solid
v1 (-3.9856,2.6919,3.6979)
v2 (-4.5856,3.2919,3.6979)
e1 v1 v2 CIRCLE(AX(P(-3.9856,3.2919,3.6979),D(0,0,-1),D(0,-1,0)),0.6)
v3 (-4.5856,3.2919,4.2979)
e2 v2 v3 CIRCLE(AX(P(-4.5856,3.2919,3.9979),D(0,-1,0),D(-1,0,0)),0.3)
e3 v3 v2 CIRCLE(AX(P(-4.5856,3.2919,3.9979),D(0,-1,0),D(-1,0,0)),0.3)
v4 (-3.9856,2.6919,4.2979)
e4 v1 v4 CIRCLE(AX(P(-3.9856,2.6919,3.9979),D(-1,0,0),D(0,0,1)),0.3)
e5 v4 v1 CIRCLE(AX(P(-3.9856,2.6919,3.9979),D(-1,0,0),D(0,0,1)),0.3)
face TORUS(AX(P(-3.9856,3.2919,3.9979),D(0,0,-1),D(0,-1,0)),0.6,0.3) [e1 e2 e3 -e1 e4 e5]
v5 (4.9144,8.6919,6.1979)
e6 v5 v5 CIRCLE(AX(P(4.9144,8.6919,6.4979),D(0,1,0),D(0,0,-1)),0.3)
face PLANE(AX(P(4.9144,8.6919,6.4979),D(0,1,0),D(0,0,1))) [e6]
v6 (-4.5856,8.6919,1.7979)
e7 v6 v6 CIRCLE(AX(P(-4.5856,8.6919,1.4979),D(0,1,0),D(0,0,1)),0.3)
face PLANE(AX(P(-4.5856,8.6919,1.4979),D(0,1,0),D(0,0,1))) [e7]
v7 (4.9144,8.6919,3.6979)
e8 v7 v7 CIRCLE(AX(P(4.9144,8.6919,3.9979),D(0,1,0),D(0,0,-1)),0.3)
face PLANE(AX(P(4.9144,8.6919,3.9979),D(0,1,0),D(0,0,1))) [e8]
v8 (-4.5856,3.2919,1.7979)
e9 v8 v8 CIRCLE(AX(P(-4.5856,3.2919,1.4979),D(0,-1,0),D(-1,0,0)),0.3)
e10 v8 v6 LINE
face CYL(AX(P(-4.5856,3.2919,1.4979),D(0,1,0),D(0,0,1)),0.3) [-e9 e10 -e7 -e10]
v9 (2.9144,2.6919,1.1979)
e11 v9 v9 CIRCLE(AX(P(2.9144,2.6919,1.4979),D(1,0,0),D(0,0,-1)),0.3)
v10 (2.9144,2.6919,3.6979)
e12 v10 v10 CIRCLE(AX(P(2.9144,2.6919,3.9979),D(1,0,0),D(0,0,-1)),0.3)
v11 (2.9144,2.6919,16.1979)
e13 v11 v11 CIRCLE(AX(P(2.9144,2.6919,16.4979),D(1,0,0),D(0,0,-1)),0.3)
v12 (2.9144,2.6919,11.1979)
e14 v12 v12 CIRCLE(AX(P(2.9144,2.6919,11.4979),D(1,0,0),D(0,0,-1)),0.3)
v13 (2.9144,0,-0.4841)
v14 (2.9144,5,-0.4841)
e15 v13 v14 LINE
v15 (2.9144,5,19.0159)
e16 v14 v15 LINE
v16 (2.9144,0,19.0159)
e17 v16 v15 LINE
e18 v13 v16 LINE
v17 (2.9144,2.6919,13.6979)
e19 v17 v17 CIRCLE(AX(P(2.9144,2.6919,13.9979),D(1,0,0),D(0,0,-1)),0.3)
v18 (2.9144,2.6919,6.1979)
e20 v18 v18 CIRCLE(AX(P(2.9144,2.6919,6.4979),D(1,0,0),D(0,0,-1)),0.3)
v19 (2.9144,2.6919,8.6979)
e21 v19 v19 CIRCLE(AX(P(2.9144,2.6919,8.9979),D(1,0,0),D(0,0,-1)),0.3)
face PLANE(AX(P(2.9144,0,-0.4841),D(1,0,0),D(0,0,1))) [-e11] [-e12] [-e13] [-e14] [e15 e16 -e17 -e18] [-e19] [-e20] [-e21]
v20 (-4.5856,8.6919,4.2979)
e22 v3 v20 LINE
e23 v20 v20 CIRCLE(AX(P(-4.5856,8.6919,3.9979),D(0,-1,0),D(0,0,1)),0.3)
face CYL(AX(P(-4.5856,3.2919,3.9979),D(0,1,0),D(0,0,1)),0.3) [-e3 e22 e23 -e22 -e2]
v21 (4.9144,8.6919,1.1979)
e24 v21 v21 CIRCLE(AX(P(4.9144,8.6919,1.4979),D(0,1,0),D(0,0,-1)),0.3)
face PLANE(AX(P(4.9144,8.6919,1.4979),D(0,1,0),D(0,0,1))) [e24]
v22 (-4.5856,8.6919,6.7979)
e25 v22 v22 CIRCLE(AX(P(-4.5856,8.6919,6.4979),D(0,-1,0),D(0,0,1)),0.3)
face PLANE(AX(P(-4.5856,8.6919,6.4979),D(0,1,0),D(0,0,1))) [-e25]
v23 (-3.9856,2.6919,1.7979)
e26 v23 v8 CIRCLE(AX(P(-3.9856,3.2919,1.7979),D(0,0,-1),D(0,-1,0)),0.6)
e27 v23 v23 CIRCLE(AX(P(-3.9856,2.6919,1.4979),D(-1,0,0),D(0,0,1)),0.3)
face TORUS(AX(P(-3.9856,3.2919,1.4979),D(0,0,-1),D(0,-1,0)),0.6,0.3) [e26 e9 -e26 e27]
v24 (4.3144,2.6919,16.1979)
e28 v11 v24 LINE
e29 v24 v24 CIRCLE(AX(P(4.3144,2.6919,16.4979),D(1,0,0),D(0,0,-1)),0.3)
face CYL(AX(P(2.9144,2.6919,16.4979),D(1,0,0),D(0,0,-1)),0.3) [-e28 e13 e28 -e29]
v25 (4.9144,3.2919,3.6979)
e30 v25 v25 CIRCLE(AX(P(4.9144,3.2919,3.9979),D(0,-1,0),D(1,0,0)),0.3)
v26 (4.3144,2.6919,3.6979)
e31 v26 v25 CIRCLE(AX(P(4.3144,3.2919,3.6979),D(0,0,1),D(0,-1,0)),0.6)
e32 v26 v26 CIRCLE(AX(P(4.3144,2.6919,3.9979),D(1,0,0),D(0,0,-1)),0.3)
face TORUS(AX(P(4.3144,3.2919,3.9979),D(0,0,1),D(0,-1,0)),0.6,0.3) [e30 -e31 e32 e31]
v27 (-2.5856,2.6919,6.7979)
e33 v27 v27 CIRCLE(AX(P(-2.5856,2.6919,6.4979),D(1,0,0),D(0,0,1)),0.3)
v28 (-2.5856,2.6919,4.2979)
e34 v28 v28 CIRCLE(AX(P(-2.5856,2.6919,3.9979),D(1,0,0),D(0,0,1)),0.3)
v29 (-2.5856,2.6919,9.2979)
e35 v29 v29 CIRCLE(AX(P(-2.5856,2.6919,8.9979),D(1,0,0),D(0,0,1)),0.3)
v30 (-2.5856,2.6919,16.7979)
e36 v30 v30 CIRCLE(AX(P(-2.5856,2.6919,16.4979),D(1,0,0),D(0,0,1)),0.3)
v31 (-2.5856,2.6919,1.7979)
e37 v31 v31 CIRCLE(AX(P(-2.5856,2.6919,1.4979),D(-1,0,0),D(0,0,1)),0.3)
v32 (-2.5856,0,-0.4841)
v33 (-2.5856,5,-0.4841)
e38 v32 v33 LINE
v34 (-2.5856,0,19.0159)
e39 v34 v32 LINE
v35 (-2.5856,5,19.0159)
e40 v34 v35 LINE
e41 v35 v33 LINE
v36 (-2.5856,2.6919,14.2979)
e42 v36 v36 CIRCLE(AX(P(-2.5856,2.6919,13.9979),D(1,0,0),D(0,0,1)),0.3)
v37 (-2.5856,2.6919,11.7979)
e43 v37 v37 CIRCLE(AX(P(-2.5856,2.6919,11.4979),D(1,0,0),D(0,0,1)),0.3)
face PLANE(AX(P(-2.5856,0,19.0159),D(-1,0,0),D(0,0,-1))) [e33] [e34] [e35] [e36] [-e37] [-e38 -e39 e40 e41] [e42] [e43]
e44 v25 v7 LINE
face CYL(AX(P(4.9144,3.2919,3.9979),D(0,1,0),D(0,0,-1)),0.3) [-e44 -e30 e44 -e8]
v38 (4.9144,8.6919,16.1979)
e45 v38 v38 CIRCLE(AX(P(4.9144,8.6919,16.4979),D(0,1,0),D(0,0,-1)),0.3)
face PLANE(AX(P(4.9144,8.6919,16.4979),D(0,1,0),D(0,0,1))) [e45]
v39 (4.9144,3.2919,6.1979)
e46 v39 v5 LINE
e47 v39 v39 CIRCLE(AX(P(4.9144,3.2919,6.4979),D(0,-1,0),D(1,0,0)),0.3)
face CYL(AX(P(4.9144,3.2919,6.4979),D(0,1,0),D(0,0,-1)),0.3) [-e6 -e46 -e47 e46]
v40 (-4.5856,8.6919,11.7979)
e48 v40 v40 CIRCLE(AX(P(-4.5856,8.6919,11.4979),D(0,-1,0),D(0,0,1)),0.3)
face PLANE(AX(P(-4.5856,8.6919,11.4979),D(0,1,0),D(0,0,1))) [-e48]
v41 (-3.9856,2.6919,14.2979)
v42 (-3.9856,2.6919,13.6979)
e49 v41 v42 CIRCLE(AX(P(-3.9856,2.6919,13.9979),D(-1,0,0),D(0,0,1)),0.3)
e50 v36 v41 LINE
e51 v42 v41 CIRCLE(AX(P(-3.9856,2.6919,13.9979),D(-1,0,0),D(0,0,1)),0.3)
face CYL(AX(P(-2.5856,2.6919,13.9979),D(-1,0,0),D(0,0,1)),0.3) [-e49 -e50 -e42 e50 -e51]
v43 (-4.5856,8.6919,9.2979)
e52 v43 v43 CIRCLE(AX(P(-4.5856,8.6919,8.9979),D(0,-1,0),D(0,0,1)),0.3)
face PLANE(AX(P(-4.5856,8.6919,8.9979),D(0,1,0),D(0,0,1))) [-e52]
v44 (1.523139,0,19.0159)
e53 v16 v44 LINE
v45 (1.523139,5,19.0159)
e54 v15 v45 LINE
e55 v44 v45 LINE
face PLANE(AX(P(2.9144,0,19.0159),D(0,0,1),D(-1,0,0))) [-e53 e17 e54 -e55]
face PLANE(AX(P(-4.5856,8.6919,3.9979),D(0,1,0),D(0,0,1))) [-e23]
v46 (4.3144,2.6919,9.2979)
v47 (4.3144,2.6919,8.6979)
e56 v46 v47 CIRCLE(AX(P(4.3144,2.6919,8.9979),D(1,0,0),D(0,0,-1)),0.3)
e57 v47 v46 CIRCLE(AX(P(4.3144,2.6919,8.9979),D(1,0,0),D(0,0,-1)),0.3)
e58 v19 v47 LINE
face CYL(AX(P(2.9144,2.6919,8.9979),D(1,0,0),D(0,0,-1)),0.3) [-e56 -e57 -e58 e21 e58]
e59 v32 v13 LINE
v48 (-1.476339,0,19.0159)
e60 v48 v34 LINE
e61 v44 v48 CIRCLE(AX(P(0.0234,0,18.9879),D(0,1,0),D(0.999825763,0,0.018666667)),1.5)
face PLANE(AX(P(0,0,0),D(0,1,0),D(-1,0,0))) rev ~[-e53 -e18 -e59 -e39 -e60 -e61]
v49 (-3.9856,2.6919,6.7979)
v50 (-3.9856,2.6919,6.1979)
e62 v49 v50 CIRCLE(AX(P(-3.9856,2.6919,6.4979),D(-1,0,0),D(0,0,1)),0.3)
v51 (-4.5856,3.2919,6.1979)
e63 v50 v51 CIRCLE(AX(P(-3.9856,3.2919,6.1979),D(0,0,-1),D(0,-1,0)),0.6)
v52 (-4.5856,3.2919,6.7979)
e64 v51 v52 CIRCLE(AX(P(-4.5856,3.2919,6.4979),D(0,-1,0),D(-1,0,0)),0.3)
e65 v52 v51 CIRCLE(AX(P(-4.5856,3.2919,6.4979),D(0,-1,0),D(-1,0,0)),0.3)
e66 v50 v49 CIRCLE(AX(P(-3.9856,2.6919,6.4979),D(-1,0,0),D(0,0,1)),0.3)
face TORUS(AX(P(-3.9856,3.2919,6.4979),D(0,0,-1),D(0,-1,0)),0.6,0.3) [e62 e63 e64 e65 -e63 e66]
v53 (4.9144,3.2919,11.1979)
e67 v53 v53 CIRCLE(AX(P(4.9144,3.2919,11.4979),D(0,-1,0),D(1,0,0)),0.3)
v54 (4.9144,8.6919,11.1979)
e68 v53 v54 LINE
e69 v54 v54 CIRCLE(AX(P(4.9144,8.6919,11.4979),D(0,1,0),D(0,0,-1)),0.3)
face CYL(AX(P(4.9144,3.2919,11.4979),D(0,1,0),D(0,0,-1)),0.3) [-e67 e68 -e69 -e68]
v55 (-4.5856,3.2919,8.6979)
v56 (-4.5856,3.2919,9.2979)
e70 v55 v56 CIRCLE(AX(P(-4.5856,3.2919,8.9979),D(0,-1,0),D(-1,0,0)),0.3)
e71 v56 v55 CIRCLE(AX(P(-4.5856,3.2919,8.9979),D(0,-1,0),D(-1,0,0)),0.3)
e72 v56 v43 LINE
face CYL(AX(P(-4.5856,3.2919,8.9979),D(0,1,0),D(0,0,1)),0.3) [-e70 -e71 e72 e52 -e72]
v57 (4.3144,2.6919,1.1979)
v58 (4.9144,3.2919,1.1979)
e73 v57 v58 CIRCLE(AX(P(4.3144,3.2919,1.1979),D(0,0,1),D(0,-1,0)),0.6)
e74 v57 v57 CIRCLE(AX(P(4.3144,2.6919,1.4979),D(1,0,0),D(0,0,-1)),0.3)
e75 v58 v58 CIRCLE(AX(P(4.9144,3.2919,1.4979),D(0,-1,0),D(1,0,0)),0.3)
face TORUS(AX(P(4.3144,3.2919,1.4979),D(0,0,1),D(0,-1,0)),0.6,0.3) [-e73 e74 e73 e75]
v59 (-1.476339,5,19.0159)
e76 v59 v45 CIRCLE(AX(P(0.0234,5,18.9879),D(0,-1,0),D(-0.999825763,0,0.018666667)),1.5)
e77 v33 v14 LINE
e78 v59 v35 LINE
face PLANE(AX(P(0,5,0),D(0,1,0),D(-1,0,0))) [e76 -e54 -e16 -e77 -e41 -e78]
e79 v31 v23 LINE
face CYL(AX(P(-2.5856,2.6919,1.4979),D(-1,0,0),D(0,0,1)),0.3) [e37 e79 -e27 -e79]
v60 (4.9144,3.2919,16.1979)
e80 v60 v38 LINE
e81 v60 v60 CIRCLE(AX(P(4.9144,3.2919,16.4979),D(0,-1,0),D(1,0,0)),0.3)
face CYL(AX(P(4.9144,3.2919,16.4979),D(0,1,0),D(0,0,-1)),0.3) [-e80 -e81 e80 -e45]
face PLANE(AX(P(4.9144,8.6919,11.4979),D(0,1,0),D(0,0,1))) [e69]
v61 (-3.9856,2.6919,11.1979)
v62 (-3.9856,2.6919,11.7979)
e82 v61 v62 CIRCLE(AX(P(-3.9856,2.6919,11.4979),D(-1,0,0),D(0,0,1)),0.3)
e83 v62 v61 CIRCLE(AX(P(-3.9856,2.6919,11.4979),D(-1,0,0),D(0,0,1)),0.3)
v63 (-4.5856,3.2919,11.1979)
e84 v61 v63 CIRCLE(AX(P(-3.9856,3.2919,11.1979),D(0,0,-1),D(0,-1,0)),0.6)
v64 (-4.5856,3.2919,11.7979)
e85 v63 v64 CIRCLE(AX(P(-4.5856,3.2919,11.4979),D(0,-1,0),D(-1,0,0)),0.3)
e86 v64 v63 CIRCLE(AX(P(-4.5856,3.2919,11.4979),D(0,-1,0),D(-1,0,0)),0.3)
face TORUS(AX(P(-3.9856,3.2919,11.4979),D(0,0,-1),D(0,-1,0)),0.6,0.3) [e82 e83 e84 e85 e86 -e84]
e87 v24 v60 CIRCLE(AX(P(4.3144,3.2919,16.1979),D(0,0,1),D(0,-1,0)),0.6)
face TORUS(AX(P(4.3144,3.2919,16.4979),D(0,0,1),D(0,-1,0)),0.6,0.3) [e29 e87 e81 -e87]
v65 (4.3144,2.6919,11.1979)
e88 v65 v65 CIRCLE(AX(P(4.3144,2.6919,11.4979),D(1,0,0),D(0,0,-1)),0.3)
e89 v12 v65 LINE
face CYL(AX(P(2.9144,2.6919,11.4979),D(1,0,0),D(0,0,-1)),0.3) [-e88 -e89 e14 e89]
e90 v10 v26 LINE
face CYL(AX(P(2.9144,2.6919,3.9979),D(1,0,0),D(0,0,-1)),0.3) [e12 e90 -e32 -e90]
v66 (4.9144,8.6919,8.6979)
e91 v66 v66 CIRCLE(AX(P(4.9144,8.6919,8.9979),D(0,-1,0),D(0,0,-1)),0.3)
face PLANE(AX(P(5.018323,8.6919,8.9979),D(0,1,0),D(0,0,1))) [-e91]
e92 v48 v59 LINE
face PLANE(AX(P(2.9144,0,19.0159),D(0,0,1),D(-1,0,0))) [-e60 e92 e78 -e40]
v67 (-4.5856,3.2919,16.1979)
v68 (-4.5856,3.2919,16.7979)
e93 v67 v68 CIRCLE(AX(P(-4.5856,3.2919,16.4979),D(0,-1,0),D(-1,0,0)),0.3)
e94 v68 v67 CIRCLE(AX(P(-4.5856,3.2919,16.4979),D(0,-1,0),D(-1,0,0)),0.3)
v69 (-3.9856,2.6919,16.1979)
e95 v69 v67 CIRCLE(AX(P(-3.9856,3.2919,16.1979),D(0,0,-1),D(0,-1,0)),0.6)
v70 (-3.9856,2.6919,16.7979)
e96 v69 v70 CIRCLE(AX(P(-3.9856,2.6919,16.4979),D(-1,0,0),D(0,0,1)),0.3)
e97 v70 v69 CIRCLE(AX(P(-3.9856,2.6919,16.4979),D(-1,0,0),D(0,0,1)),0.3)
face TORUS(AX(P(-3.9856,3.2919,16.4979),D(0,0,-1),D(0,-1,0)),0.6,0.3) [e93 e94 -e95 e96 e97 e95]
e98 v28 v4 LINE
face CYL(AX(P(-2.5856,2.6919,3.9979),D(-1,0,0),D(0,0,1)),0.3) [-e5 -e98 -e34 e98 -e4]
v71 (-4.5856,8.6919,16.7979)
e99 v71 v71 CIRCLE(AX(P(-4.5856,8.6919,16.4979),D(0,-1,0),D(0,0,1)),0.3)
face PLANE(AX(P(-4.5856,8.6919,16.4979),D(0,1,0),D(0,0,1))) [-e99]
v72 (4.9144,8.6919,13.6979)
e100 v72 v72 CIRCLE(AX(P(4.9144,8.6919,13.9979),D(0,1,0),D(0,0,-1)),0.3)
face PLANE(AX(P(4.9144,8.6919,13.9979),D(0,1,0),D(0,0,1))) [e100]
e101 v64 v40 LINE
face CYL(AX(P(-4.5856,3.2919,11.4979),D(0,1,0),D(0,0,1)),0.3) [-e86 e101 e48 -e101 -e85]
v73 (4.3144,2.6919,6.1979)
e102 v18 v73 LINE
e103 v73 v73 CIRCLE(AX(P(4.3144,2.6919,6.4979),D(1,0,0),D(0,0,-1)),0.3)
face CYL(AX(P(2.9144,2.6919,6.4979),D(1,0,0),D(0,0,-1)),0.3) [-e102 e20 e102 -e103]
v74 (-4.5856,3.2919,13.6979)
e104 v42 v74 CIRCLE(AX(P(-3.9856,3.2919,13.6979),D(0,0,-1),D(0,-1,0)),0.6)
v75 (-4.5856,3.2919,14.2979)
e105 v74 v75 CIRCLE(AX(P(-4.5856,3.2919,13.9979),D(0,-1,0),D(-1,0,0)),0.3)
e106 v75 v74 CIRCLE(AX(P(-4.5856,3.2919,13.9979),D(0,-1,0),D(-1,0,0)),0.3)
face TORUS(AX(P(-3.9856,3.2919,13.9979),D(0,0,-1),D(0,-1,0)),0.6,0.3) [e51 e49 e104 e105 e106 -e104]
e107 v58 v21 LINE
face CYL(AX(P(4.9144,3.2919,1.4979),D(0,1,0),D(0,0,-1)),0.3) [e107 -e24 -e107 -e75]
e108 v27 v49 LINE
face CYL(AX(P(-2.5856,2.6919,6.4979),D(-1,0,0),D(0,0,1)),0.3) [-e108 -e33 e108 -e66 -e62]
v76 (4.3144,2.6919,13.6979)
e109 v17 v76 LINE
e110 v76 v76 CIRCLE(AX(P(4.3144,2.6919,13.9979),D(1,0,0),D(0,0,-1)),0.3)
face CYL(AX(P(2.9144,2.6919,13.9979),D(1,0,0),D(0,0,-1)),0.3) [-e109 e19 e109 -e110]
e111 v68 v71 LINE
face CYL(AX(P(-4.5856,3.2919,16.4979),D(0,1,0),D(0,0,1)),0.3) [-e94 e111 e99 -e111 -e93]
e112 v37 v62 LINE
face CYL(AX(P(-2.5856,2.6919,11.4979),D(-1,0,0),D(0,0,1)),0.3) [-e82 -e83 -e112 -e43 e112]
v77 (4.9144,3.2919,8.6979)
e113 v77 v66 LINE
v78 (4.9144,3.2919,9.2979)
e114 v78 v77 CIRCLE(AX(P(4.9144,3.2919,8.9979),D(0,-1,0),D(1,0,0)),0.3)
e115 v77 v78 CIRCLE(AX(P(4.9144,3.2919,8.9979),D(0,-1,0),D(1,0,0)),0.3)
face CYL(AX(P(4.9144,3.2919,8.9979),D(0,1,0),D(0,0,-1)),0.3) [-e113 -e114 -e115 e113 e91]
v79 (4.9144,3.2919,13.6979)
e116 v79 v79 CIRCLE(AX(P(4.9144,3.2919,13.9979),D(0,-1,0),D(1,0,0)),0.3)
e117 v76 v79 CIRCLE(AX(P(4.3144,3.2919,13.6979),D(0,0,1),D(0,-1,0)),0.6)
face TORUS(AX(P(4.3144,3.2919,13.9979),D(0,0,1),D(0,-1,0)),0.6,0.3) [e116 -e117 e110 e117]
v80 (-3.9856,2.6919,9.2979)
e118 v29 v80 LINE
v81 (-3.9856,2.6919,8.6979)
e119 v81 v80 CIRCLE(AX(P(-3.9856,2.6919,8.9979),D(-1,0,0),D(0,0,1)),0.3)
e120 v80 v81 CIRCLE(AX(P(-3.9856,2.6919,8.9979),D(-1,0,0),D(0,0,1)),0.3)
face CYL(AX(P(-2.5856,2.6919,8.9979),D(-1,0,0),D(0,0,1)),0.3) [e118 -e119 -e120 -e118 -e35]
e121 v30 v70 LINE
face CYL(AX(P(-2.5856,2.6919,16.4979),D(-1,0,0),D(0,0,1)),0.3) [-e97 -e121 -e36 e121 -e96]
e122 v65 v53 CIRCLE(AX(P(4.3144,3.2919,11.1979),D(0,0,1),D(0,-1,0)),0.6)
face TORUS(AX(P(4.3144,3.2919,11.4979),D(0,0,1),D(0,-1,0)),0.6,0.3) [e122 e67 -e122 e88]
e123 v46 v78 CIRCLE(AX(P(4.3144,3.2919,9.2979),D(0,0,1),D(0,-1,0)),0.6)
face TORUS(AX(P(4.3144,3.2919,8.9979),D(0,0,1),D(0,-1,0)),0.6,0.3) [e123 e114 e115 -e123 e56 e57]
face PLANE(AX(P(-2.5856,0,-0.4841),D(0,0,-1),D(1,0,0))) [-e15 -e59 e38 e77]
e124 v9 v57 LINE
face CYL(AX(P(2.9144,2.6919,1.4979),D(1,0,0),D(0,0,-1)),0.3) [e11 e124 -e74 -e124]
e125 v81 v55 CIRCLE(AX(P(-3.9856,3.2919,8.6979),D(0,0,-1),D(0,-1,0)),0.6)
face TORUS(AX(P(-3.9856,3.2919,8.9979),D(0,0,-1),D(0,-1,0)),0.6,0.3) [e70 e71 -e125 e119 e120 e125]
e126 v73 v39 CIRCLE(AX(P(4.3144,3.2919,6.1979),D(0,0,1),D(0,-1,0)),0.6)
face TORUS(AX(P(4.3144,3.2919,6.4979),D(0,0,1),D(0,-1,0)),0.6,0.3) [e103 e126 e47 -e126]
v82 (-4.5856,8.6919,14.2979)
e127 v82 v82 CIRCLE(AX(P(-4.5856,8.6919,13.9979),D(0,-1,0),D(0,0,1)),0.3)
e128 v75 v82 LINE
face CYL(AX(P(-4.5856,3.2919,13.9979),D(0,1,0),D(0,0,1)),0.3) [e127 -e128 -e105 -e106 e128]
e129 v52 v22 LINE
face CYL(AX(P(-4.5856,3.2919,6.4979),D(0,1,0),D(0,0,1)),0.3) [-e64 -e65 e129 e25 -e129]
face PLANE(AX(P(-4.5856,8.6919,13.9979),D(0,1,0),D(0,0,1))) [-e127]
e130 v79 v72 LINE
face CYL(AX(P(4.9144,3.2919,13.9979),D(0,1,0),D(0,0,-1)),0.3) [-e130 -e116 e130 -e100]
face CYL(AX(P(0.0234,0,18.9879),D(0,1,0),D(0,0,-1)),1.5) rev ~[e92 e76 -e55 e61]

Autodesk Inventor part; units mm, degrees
ref_plane "YZ Plane" through (0, 0, 0) normal (1, 0, 0) x (0, 1, 0)
ref_plane "XZ Plane" through (0, 0, 0) normal (0, 1, 0) x (-1, 0, 0)
ref_plane "XY Plane" through (0, 0, 0) normal (0, 0, 1) x (1, 0, 0)
sketch "Sketch1" plane through (0, 0, 0) normal (0, 1, 0) x (-1, 0, 0)
  line L0 (2.5856, 19.0159) -> (2.5856, -0.4841)
  line L1 (2.5856, -0.4841) -> (-2.9144, -0.4841)
  line L2 (-2.9144, -0.4841) -> (-2.9144, 19.0159)
  line L3 (-2.9144, 19.0159) -> (2.5856, 19.0159)
  point P0 (0, 0)
  dimension "d0" = 19.5
  dimension "d1" = 5.5
  dimension "d2" = 19.5
extrude "Extrusion1" add sketch "Sketch1" along normal blind 5
sketch "Sketch2" plane through (2.9144, 0, 19.0159) normal (1, 0, 0) x (0, 0, -1)
  circle A0 centre (17.518, 2.6919) radius 0.3
  point P0 (19.0159, 0)
  dimension "d9" = 0.6
sketch3d "3D Sketch2"
  line L0 (2.9144, 2.6919, 1.4979) -> (4.3144, 2.6919, 1.4979)
  arc A0 (4.3144, 2.6919, 1.4979) -> (4.9144, 3.2919, 1.4979) centre (4.3144, 3.2919, 1.4979) ccw
  line L1 (4.9144, 3.2919, 1.4979) -> (4.9144, 8.6919, 1.4979)
  dimension "d10" = 2
  dimension "d11" = 6
  dimension "d12" = 0.6
sweep "Sweep1" add profiles "Sketch2" path "3D Sketch2"
sketch "Sketch4" plane through (2.9144, 0, 19.0159) normal (1, 0, 0) x (0, 0, -1)
  circle A0 centre (17.518, 2.6919) radius 0.3 projected
  line L0 (17.518, 2.6919) -> (15.018, 2.6919)
  circle A1 centre (15.018, 2.6919) radius 0.3
  point P0 (19.0159, 0)
  dimension "d15" = 2.5
  dimension "d16" = 0.6
sketch3d "3D Sketch3"
  line L0 (2.9144, 2.6919, 3.9979) -> (4.3144, 2.6919, 3.9979)
  arc A0 (4.3144, 2.6919, 3.9979) -> (4.9144, 3.2919, 3.9979) centre (4.3144, 3.2919, 3.9979) ccw
  line L1 (4.9144, 3.2919, 3.9979) -> (4.9144, 8.6919, 3.9979)
  dimension "d17" = 2
  dimension "d18" = 6
  dimension "d19" = 0.6
sweep "Sweep2" add profiles "Sketch4" path "3D Sketch3" contours A1
sketch "Sketch5" plane through (2.9144, 0, 19.0159) normal (1, 0, 0) x (0, 0, -1)
  circle A0 centre (15.018, 2.6919) radius 0.3 projected
  line L0 (15.018, 2.6919) -> (12.518, 2.6919)
  circle A1 centre (12.518, 2.6919) radius 0.3
  point P0 (19.0159, 0)
  dimension "d22" = 2.5
  dimension "d23" = 0.6
sketch3d "3D Sketch4"
  line L0 (2.9144, 2.6919, 6.4979) -> (4.3144, 2.6919, 6.4979)
  arc A0 (4.3144, 2.6919, 6.4979) -> (4.9144, 3.2919, 6.4979) centre (4.3144, 3.2919, 6.4979) ccw
  line L1 (4.9144, 3.2919, 6.4979) -> (4.9144, 8.6919, 6.4979)
  dimension "d24" = 2
  dimension "d25" = 6
  dimension "d26" = 0.6
sweep "Sweep3" add profiles "Sketch5" path "3D Sketch4" contours A1
sketch "Sketch6" plane through (2.9144, 0, 19.0159) normal (1, 0, 0) x (0, 0, -1)
  circle A0 centre (12.518, 2.6919) radius 0.3 projected
  line L0 (12.518, 2.6919) -> (10.018, 2.6919)
  circle A1 centre (10.018, 2.6919) radius 0.3
  line L1 (10.018, 2.6919) -> (7.518, 2.6919)
  circle A2 centre (7.518, 2.6919) radius 0.3
  line L2 (7.518, 2.6919) -> (5.018, 2.6919)
  circle A3 centre (5.018, 2.6919) radius 0.3
  line L3 (5.018, 2.6919) -> (2.518, 2.6919)
  circle A4 centre (2.518, 2.6919) radius 0.3
  point P0 (19.0159, 0)
  dimension "d29" = 2.5
  dimension "d30" = 0.6
  dimension "d31" = 2.5
  dimension "d32" = 0.6
  dimension "d33" = 2.5
  dimension "d34" = 0.6
  dimension "d35" = 2.5
  dimension "d36" = 0.6
sketch3d "3D Sketch5"
  line L0 (2.9144, 2.6919, 8.9979) -> (4.3144, 2.6919, 8.9979)
  arc A0 (4.3144, 2.6919, 8.9979) -> (4.9144, 3.2919, 8.9979) centre (4.3144, 3.2919, 8.9979) ccw
  line L1 (4.9144, 3.2919, 8.9979) -> (4.9144, 8.6919, 8.9979)
  dimension "d37" = 2
  dimension "d38" = 6
  dimension "d39" = 0.6
sweep "Sweep4" add profiles "Sketch6" path "3D Sketch5" contours A1 L1 L0 | L0 L1 A1
sketch "Sketch7" plane through (2.9144, 0, 19.0159) normal (1, 0, 0) x (0, 0, -1)
  circle A0 centre (10.018, 2.6919) radius 0.3 projected
  line L0 (10.018, 2.6919) -> (7.518, 2.6919)
  circle A1 centre (7.518, 2.6919) radius 0.3
  point P0 (19.0159, 0)
  dimension "d42" = 2.5
  dimension "d43" = 0.6
sketch3d "3D Sketch7"
  line L0 (2.9144, 2.6919, 11.4979) -> (4.3144, 2.6919, 11.4979)
  arc A0 (4.3144, 2.6919, 11.4979) -> (4.9144, 3.2919, 11.4979) centre (4.3144, 3.2919, 11.4979) ccw
  line L1 (4.9144, 3.2919, 11.4979) -> (4.9144, 8.6919, 11.4979)
  dimension "d44" = 2
  dimension "d45" = 6
  dimension "d46" = 0.6
sweep "Sweep5" add profiles "Sketch7" path "3D Sketch7" contours A1
sketch "Sketch8" plane through (2.9144, 0, 19.0159) normal (1, 0, 0) x (0, 0, -1)
  circle A0 centre (7.518, 2.6919) radius 0.3 projected
  line L0 (7.518, 2.6919) -> (5.018, 2.6919)
  circle A1 centre (5.018, 2.6919) radius 0.3
  point P0 (19.0159, 0)
  dimension "d49" = 2.5
  dimension "d50" = 0.6
sketch3d "3D Sketch9"
  line L0 (2.9144, 2.6919, 13.9979) -> (4.3144, 2.6919, 13.9979)
  arc A0 (4.3144, 2.6919, 13.9979) -> (4.9144, 3.2919, 13.9979) centre (4.3144, 3.2919, 13.9979) ccw
  line L1 (4.9144, 3.2919, 13.9979) -> (4.9144, 8.6919, 13.9979)
  dimension "d51" = 2
  dimension "d52" = 6
  dimension "d53" = 0.6
sweep "Sweep6" add profiles "Sketch8" path "3D Sketch9" contours A1
sketch "Sketch9" plane through (2.9144, 0, 19.0159) normal (1, 0, 0) x (0, 0, -1)
  circle A0 centre (5.018, 2.6919) radius 0.3 projected
  line L0 (5.018, 2.6919) -> (2.518, 2.6919)
  circle A1 centre (2.518, 2.6919) radius 0.3
  point P0 (19.0159, 0)
  dimension "d56" = 2.5
  dimension "d57" = 0.6
sketch3d "3D Sketch10"
  line L0 (2.9144, 2.6919, 16.4979) -> (4.3144, 2.6919, 16.4979)
  arc A0 (4.3144, 2.6919, 16.4979) -> (4.9144, 3.2919, 16.4979) centre (4.3144, 3.2919, 16.4979) ccw
  line L1 (4.9144, 3.2919, 16.4979) -> (4.9144, 8.6919, 16.4979)
  dimension "d58" = 2
  dimension "d59" = 6
  dimension "d60" = 0.6
sweep "Sweep7" add profiles "Sketch9" path "3D Sketch10" contours A1
sketch "Sketch11" plane through (-2.5856, 0, -0.4841) normal (-1, 0, 0) x (0, 0, 1)
  circle A0 centre (1.982, 2.6919) radius 0.3 projected
  circle A1 centre (1.982, 2.6919) radius 0.3
  point P0 (0.4841, 0)
  dimension "d64" = 0.6
sketch3d "3D Sketch12"
  line L0 (-2.5856, 2.6919, 1.4979) -> (-3.9856, 2.6919, 1.4979)
  arc A0 (-3.9856, 2.6919, 1.4979) -> (-4.5856, 3.2919, 1.4979) centre (-3.9856, 3.2919, 1.4979) ccw
  line L1 (-4.5856, 3.2919, 1.4979) -> (-4.5856, 8.6919, 1.4979)
  dimension "d65" = 2
  dimension "d66" = 6
  dimension "d67" = 0.6
sweep "Sweep8" add profiles "Sketch11" path "3D Sketch12"
sketch "Sketch12" plane through (-2.5856, 0, -0.4841) normal (-1, 0, 0) x (0, 0, 1)
  circle A0 centre (1.982, 2.6919) radius 0.3 projected
  line L0 (1.982, 2.6919) -> (4.482, 2.6919)
  circle A1 centre (4.482, 2.6919) radius 0.3 projected
  circle A2 centre (4.482, 2.6919) radius 0.3
  point P0 (0.4841, 0)
  dimension "d70" = 2.5
  dimension "d71" = 0.6
sketch3d "3D Sketch13"
  line L0 (-2.5856, 2.6919, 3.9979) -> (-3.9856, 2.6919, 3.9979)
  arc A0 (-3.9856, 2.6919, 3.9979) -> (-4.5856, 3.2919, 3.9979) centre (-3.9856, 3.2919, 3.9979) ccw
  line L1 (-4.5856, 3.2919, 3.9979) -> (-4.5856, 8.6919, 3.9979)
  dimension "d72" = 2
  dimension "d73" = 6
  dimension "d74" = 0.6
sweep "Sweep9" add profiles "Sketch12" path "3D Sketch13" contours A1
sketch "Sketch13" plane through (-2.5856, 0, -0.4841) normal (-1, 0, 0) x (0, 0, 1)
  circle A0 centre (4.482, 2.6919) radius 0.3 projected
  line L0 (4.482, 2.6919) -> (6.982, 2.6919)
  circle A1 centre (6.982, 2.6919) radius 0.3
  point P0 (0.4841, 0)
  dimension "d77" = 2.5
  dimension "d78" = 0.6
sketch3d "3D Sketch14"
  line L0 (-2.5856, 2.6919, 6.4979) -> (-3.9856, 2.6919, 6.4979)
  arc A0 (-3.9856, 2.6919, 6.4979) -> (-4.5856, 3.2919, 6.4979) centre (-3.9856, 3.2919, 6.4979) ccw
  line L1 (-4.5856, 3.2919, 6.4979) -> (-4.5856, 8.6919, 6.4979)
  dimension "d79" = 2
  dimension "d80" = 6
  dimension "d81" = 0.6
sweep "Sweep10" add profiles "Sketch13" path "3D Sketch14" contours A1
sketch "Sketch14" plane through (-2.5856, 0, -0.4841) normal (-1, 0, 0) x (0, 0, 1)
  circle A0 centre (6.982, 2.6919) radius 0.3 projected
  circle A1 centre (9.482, 2.6919) radius 0.3 projected
  line L0 (6.982, 2.6919) -> (9.482, 2.6919)
  circle A2 centre (9.482, 2.6919) radius 0.3
  point P0 (0.4841, 0)
  dimension "d84" = 2.5
  dimension "d85" = 0.6
sketch3d "3D Sketch15"
  line L0 (-2.5856, 2.6919, 8.9979) -> (-3.9856, 2.6919, 8.9979)
  arc A0 (-3.9856, 2.6919, 8.9979) -> (-4.5856, 3.2919, 8.9979) centre (-3.9856, 3.2919, 8.9979) ccw
  line L1 (-4.5856, 3.2919, 8.9979) -> (-4.5856, 8.6919, 8.9979)
  dimension "d86" = 2
  dimension "d87" = 6
  dimension "d88" = 0.6
sweep "Sweep11" add profiles "Sketch14" path "3D Sketch15" contours A1
sketch "Sketch15" plane through (-2.5856, 0, -0.4841) normal (-1, 0, 0) x (0, 0, 1)
  circle A0 centre (9.482, 2.6919) radius 0.3 projected
  circle A1 centre (11.982, 2.6919) radius 0.3 projected
  line L0 (9.482, 2.6919) -> (11.982, 2.6919)
  circle A2 centre (11.982, 2.6919) radius 0.3
  point P0 (0.4841, 0)
  dimension "d91" = 2.5
  dimension "d92" = 0.6
sketch3d "3D Sketch17"
  line L0 (-2.5856, 2.6919, 11.4979) -> (-3.9856, 2.6919, 11.4979)
  arc A0 (-3.9856, 2.6919, 11.4979) -> (-4.5856, 3.2919, 11.4979) centre (-3.9856, 3.2919, 11.4979) ccw
  line L1 (-4.5856, 3.2919, 11.4979) -> (-4.5856, 8.6919, 11.4979)
  dimension "d93" = 2
  dimension "d94" = 6
  dimension "d95" = 0.6
sweep "Sweep12" add profiles "Sketch15" path "3D Sketch17" contours A1
sketch "Sketch16" plane through (-2.5856, 0, -0.4841) normal (-1, 0, 0) x (0, 0, 1)
  circle A0 centre (11.982, 2.6919) radius 0.3 projected
  line L0 (11.982, 2.6919) -> (14.482, 2.6919)
  circle A1 centre (14.482, 2.6919) radius 0.3 projected
  circle A2 centre (14.482, 2.6919) radius 0.3
  point P0 (0.4841, 0)
  dimension "d98" = 2.5
  dimension "d99" = 0.6
sketch3d "3D Sketch18"
  line L0 (-2.5856, 2.6919, 13.9979) -> (-3.9856, 2.6919, 13.9979)
  arc A0 (-3.9856, 2.6919, 13.9979) -> (-4.5856, 3.2919, 13.9979) centre (-3.9856, 3.2919, 13.9979) ccw
  line L1 (-4.5856, 3.2919, 13.9979) -> (-4.5856, 8.6919, 13.9979)
  dimension "d100" = 2
  dimension "d101" = 6
  dimension "d102" = 0.6
sweep "Sweep13" add profiles "Sketch16" path "3D Sketch18" contours A1
sketch "Sketch17" plane through (-2.5856, 0, -0.4841) normal (-1, 0, 0) x (0, 0, 1)
  circle A0 centre (14.482, 2.6919) radius 0.3 projected
  line L0 (14.482, 2.6919) -> (16.982, 2.6919)
  circle A1 centre (16.982, 2.6919) radius 0.3 projected
  circle A2 centre (16.982, 2.6919) radius 0.3
  point P0 (0.4841, 0)
  dimension "d105" = 2.5
  dimension "d106" = 0.6
sketch3d "3D Sketch19"
  line L0 (-2.5856, 2.6919, 16.4979) -> (-3.9856, 2.6919, 16.4979)
  arc A0 (-3.9856, 2.6919, 16.4979) -> (-4.5856, 3.2919, 16.4979) centre (-3.9856, 3.2919, 16.4979) ccw
  line L1 (-4.5856, 3.2919, 16.4979) -> (-4.5856, 8.6919, 16.4979)
  dimension "d107" = 2
  dimension "d108" = 6
  dimension "d109" = 0.6
sweep "Sweep14" add profiles "Sketch17" path "3D Sketch19" contours A1
sketch "Sketch18" plane through (0, 0, 0) normal (0, -1, 0) x (1, 0, 0)
  point P0 (0, 0)
  point P1 (0.0234, 18.9879)
hole "Hole1" at (0.0234, 0, 18.9879) direction (0, 1, 0) diameter 3 depth 8 tip angle 118
properties part number "dip7" material "Silicon Nitride"
